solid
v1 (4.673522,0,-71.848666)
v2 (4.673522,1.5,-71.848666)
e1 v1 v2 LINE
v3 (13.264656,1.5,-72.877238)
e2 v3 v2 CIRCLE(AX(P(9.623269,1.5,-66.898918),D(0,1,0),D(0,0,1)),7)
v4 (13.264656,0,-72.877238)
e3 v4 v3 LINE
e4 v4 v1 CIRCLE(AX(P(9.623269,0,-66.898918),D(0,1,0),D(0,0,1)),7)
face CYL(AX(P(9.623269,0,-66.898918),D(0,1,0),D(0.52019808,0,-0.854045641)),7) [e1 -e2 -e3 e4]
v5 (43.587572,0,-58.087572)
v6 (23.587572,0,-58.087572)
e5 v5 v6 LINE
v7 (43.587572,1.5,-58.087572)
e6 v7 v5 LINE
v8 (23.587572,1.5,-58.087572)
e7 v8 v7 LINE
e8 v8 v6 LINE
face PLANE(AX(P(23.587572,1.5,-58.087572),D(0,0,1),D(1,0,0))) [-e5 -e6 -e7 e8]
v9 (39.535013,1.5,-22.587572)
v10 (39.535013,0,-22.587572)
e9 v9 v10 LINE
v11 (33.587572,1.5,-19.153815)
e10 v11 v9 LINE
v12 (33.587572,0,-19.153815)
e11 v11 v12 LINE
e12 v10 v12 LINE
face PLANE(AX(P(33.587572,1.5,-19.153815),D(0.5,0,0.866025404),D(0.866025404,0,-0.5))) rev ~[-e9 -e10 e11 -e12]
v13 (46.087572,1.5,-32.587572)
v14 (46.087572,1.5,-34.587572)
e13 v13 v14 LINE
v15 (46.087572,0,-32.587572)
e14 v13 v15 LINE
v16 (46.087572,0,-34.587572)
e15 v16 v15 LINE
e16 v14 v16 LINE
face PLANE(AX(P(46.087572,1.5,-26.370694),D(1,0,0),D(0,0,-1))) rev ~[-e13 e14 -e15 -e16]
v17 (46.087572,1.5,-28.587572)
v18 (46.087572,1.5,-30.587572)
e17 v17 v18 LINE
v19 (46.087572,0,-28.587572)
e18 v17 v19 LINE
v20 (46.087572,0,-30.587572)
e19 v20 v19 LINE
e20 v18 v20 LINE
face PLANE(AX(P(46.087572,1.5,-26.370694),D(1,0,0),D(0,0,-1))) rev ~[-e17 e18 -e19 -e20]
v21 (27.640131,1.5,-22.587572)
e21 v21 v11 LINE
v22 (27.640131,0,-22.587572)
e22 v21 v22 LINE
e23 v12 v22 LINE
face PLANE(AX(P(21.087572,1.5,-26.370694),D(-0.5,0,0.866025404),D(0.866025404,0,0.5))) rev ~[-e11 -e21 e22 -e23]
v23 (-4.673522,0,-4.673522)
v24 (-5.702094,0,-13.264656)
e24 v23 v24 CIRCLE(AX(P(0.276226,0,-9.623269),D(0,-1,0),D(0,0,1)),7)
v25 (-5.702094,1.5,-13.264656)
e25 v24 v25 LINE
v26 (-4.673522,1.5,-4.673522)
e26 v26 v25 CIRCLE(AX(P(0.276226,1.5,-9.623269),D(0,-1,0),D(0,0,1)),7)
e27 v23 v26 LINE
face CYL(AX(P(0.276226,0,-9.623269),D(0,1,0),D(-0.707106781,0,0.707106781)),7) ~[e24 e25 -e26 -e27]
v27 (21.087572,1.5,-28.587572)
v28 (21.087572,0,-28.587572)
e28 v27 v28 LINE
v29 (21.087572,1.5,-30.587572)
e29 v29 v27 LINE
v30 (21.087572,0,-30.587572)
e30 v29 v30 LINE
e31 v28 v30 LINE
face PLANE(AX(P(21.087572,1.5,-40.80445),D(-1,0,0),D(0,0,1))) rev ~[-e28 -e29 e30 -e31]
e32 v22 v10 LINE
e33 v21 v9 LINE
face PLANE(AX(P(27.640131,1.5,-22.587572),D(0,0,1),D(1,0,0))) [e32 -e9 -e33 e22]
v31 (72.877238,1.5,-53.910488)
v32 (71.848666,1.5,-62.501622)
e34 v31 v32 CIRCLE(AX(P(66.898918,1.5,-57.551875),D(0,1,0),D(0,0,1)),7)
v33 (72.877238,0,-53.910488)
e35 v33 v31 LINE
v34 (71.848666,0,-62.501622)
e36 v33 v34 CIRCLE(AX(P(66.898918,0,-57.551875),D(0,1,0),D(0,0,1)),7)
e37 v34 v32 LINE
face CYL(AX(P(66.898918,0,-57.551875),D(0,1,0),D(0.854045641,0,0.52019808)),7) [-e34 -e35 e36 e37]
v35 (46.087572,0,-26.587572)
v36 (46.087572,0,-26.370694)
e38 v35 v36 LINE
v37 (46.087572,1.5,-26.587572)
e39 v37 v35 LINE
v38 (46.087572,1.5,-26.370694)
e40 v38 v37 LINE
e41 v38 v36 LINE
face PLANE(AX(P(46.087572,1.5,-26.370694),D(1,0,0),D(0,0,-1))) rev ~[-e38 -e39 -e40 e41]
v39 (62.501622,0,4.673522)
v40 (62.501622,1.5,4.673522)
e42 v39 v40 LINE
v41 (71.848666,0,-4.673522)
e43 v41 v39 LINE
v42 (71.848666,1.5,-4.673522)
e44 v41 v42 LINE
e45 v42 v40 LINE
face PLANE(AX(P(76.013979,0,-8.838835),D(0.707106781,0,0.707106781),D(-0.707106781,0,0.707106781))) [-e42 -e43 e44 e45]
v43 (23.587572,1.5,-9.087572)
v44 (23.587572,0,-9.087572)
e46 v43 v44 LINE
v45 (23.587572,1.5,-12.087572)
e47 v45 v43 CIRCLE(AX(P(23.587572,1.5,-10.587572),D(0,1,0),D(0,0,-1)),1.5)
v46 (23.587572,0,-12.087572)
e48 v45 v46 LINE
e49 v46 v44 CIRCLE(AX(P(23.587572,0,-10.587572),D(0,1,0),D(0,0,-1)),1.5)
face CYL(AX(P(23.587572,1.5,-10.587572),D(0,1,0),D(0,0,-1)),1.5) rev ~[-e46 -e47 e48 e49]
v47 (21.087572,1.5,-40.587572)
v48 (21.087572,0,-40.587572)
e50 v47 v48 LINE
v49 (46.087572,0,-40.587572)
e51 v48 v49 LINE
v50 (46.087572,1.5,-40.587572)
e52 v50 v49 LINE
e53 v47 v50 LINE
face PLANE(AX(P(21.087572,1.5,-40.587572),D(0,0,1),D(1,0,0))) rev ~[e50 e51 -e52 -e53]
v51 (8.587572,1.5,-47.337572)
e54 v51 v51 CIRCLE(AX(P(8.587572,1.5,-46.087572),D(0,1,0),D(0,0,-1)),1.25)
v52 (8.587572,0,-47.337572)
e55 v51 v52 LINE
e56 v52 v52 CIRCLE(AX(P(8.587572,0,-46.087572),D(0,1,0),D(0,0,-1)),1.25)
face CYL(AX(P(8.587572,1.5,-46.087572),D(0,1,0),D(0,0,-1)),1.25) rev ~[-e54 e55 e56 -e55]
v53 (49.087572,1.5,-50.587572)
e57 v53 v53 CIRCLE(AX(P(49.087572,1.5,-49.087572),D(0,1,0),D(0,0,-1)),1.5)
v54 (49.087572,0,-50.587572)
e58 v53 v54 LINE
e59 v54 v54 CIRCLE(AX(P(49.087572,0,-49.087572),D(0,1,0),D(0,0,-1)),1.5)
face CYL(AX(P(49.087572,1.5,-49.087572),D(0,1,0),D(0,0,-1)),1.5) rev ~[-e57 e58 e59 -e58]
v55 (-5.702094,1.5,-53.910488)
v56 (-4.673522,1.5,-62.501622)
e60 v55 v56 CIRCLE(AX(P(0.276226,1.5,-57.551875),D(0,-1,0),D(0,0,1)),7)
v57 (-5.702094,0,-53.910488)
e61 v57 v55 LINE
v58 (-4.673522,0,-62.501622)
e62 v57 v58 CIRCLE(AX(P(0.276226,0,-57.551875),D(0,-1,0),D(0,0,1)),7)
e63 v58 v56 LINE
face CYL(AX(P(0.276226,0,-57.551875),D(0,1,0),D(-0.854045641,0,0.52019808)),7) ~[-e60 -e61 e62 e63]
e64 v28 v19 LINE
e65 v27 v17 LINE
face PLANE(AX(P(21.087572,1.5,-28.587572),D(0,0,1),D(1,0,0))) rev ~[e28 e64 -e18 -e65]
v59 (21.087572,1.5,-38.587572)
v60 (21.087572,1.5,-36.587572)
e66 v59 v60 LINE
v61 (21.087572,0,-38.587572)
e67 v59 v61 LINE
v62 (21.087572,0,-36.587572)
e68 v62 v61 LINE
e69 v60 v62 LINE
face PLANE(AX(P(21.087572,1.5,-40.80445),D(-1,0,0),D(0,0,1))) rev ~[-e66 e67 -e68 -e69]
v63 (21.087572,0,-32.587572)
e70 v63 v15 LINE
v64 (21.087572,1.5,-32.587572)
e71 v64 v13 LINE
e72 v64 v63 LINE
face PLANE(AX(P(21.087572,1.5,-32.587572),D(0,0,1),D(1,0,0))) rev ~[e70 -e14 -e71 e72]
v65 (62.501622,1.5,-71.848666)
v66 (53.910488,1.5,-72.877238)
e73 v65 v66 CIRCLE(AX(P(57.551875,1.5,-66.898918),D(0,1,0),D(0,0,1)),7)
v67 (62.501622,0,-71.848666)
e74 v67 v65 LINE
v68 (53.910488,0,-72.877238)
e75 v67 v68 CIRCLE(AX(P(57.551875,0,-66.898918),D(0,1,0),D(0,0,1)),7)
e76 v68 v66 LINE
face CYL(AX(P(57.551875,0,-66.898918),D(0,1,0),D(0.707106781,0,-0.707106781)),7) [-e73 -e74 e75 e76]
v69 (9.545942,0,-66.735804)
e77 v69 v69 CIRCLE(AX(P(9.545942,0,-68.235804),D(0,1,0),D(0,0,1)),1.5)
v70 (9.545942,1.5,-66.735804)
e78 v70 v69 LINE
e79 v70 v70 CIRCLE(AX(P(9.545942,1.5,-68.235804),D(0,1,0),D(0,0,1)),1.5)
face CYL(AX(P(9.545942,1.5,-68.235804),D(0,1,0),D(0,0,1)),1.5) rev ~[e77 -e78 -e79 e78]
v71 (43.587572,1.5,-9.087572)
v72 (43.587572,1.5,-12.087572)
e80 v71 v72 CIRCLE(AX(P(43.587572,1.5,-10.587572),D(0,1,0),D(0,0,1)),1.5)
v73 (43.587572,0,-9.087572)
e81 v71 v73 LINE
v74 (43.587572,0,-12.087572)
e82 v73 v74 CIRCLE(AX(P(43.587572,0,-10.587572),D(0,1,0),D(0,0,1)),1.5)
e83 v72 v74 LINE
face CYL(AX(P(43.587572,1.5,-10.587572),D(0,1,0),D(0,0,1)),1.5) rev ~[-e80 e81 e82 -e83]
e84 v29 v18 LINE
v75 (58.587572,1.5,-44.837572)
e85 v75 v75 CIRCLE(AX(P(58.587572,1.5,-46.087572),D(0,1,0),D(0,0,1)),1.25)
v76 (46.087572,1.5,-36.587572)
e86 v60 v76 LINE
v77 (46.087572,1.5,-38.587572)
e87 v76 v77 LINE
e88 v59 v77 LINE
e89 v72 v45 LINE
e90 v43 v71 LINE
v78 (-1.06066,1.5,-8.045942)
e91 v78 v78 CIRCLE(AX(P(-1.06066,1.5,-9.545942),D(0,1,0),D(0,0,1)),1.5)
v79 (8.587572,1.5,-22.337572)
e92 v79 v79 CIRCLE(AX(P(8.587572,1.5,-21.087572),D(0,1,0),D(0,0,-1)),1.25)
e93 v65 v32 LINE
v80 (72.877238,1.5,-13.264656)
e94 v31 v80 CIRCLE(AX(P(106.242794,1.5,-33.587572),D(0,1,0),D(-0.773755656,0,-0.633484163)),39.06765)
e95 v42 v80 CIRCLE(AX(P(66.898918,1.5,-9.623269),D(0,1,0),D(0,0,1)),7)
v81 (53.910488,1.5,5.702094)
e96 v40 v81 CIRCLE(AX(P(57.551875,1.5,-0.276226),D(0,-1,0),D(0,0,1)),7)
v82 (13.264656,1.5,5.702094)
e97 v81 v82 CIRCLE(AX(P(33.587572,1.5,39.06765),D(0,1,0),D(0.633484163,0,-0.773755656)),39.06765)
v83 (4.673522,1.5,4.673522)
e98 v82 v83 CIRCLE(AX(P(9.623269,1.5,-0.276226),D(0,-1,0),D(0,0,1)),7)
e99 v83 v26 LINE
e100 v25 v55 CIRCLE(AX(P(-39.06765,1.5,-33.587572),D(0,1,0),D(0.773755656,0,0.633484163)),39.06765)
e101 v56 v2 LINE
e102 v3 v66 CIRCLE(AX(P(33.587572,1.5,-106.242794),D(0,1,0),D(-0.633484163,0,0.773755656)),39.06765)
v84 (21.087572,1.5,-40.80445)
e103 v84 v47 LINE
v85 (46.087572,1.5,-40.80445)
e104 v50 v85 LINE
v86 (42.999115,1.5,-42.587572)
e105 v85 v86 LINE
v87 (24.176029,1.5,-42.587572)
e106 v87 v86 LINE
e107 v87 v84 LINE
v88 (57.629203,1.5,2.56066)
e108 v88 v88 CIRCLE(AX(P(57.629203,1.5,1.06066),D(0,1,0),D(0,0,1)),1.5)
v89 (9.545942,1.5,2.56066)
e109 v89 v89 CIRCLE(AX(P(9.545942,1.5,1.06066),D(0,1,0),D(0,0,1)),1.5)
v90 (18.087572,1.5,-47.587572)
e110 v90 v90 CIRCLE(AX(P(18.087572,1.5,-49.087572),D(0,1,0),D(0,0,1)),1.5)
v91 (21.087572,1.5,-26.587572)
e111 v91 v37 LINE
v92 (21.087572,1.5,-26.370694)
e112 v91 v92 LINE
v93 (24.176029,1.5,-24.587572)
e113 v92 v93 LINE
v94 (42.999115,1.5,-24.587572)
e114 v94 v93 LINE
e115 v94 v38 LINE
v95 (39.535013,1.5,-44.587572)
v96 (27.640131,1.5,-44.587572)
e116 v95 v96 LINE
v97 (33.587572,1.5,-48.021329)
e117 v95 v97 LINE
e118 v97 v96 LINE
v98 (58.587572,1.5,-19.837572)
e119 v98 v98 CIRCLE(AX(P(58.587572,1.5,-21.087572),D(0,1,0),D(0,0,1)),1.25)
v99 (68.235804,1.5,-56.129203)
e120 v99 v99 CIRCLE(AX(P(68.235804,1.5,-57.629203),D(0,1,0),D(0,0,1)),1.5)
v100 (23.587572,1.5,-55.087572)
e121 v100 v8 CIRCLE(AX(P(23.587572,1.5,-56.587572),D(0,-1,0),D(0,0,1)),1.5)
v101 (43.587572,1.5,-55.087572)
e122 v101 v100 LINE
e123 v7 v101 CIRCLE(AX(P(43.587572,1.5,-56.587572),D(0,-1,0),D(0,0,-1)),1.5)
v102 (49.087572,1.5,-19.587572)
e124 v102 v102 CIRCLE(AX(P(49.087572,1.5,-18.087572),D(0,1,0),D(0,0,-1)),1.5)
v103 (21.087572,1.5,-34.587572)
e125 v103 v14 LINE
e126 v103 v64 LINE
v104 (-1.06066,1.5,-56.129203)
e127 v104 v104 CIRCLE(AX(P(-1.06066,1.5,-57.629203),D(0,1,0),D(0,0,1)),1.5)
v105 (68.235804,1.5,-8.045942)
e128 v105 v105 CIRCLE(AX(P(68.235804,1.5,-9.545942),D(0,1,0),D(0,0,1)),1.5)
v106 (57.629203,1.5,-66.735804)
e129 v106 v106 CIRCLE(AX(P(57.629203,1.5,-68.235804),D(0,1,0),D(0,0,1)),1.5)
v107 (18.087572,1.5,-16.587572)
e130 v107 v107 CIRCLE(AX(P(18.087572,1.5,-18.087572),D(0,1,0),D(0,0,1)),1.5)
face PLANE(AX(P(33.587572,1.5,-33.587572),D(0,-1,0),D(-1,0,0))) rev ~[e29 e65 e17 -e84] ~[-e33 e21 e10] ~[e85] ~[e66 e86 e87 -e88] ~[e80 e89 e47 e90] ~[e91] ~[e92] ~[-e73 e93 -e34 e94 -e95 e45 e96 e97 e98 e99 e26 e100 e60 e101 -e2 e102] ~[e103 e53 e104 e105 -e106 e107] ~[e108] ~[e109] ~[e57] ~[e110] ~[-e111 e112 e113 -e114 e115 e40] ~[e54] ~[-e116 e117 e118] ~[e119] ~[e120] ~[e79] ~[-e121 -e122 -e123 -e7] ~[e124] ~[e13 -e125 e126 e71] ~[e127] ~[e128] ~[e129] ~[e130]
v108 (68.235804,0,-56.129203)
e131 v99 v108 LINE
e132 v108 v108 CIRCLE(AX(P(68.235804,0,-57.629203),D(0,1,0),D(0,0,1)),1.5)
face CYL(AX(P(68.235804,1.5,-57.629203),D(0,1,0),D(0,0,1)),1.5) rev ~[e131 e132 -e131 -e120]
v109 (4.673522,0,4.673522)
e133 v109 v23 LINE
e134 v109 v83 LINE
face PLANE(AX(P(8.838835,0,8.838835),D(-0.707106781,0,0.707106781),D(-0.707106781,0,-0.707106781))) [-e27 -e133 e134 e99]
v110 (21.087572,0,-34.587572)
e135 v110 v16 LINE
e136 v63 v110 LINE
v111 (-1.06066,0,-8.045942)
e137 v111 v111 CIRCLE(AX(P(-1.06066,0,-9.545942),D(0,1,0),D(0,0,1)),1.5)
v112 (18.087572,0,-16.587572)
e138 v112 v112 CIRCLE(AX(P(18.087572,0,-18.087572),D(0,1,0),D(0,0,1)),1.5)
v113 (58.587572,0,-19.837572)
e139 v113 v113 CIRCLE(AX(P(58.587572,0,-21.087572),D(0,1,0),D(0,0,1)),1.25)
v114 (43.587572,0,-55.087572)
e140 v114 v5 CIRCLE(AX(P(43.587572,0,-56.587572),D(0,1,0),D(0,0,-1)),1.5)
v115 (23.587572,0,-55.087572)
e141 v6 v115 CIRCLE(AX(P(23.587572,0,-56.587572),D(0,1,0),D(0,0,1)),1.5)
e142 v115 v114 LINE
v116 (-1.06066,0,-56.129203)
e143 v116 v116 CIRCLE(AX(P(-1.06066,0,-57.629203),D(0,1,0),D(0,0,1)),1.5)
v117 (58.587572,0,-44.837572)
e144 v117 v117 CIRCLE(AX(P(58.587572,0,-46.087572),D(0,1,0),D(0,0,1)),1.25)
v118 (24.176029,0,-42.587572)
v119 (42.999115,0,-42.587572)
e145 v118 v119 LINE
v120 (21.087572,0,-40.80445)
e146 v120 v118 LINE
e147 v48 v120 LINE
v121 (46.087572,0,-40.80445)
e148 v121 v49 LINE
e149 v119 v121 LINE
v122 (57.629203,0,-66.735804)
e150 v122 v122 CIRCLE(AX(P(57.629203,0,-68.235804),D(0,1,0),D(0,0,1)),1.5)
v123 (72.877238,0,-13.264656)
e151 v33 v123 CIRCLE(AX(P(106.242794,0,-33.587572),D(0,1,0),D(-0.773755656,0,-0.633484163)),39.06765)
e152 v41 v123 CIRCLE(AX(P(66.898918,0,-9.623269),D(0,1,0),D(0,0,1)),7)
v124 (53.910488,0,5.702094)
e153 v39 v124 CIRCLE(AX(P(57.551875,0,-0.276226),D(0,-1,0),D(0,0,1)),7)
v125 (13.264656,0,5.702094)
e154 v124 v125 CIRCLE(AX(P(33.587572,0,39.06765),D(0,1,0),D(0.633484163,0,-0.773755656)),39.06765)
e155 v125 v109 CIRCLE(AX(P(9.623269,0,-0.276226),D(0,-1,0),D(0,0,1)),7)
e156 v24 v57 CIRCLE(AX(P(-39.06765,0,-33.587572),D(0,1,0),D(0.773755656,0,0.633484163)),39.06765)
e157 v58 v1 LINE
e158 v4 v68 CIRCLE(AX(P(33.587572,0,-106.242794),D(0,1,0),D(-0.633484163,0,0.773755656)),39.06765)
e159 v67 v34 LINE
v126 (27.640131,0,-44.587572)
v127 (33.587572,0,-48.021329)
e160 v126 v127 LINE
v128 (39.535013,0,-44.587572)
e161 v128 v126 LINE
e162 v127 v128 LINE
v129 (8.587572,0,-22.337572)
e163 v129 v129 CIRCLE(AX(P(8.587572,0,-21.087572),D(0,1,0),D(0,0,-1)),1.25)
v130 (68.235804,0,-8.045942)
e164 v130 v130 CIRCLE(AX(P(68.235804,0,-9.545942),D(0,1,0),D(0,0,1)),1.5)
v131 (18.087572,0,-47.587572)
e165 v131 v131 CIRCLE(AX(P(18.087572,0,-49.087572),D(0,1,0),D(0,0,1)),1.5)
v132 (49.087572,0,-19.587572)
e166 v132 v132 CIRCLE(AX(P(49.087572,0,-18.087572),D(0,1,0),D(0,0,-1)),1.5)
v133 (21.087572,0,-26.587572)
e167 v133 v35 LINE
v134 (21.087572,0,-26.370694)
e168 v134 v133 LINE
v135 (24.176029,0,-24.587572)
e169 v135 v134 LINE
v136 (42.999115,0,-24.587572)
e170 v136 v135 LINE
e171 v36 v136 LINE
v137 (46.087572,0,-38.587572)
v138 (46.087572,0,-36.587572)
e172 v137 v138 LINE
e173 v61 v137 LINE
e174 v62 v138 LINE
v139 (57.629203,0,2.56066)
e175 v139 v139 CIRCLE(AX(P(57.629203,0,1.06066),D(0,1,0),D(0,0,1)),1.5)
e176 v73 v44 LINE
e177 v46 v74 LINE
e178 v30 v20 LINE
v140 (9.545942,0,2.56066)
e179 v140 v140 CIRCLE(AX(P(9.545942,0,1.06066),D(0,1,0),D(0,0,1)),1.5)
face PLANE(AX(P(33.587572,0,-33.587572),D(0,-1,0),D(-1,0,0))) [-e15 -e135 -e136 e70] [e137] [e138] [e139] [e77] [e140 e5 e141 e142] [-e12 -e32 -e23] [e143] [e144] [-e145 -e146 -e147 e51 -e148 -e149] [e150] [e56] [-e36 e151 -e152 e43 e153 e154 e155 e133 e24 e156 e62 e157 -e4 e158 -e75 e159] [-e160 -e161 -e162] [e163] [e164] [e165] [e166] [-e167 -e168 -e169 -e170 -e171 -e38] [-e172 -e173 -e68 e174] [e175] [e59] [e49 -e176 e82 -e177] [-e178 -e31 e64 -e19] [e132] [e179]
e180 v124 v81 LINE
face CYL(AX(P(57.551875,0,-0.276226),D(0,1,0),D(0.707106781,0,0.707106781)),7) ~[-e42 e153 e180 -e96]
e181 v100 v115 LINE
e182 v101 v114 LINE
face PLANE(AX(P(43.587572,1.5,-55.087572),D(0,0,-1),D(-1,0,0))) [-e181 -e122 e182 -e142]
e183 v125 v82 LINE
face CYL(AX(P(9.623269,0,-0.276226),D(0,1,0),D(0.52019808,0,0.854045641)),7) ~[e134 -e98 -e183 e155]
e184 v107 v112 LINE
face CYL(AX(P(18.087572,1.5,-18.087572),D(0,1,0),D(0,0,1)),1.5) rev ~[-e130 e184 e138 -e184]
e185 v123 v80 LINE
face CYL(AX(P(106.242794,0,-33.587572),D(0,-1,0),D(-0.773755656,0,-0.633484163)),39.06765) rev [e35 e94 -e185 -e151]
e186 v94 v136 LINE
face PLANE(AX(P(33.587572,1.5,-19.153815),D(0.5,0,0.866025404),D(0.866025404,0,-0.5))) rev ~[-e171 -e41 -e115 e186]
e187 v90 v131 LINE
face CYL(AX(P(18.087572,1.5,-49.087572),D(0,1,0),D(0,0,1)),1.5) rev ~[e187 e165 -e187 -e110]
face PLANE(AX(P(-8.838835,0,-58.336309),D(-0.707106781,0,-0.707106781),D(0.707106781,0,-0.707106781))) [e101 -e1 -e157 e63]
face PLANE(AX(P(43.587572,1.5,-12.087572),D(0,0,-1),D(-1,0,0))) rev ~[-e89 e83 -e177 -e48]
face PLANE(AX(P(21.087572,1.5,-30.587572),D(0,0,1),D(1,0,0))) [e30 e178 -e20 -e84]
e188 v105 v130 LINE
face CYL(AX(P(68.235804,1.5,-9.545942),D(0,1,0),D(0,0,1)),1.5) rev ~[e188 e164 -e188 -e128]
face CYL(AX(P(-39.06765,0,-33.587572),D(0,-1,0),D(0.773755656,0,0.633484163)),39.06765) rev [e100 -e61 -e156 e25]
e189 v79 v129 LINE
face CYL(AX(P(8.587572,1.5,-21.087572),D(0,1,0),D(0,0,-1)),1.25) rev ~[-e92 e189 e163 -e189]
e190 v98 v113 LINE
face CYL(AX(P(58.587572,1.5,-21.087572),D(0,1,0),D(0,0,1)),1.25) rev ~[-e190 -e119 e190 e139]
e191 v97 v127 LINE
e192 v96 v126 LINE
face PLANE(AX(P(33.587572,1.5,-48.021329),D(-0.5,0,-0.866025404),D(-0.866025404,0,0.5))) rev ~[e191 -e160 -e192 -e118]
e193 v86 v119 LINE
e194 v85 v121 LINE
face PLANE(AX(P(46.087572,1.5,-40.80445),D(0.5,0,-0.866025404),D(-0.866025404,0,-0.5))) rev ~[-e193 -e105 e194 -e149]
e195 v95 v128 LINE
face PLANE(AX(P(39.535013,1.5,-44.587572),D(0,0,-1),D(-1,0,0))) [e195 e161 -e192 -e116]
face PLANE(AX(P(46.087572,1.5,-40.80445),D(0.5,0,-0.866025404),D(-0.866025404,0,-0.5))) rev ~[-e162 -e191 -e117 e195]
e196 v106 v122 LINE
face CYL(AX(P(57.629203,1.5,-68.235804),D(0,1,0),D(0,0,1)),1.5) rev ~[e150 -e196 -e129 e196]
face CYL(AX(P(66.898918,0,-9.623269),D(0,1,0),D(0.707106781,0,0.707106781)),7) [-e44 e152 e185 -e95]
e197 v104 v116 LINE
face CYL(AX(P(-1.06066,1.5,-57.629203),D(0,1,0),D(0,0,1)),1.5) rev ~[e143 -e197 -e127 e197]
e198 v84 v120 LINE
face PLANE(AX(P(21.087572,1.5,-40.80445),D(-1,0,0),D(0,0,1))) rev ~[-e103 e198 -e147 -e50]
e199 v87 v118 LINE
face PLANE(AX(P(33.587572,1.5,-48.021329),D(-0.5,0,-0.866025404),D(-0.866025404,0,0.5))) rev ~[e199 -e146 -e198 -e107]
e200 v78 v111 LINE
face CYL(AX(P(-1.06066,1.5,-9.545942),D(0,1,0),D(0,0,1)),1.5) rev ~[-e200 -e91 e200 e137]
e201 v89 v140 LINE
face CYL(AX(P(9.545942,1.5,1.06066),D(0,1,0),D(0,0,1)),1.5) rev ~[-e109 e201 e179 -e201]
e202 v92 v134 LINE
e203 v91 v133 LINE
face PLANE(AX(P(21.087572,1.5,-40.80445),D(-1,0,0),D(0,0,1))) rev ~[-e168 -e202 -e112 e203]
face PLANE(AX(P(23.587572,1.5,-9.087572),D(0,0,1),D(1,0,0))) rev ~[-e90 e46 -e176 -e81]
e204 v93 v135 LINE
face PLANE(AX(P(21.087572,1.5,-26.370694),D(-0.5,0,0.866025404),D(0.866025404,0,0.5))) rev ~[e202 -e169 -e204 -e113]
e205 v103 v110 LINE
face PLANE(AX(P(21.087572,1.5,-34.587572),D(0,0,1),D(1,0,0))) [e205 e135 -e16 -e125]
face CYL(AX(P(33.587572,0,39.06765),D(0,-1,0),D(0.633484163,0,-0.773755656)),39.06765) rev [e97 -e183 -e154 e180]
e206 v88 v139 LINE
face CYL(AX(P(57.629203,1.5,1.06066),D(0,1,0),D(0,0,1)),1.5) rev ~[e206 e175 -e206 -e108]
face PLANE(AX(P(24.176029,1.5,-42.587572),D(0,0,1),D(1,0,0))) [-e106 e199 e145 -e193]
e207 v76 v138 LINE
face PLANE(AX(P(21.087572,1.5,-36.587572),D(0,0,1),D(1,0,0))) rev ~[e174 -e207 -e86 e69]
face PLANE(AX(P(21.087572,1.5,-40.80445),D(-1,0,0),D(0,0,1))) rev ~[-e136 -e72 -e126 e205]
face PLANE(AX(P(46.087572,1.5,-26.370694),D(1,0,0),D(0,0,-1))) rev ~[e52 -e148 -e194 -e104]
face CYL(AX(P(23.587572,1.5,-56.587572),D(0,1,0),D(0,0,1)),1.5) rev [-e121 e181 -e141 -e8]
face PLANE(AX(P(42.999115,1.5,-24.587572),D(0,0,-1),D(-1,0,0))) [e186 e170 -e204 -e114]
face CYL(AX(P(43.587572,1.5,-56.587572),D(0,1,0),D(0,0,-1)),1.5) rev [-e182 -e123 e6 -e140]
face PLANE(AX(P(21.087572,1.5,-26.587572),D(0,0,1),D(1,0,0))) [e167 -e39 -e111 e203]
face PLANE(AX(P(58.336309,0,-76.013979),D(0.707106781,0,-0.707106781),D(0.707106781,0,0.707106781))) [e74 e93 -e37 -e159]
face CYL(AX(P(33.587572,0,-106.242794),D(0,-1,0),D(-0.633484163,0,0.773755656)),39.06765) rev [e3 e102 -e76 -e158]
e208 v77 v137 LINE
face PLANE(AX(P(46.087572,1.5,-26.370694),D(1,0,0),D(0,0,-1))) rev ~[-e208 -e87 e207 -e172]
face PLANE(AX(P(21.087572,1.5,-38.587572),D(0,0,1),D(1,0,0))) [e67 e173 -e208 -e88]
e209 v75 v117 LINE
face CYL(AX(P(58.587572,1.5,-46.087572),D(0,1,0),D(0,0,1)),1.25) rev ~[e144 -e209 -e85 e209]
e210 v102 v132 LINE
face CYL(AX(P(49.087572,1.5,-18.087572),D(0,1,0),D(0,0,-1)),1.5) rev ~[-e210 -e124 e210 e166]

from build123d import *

# Parameters (mm, degrees)
BOSS_EXTRUDE1_DEPTH = 1.5
SKETCH2_R           = 1.5
CUT_EXTRUDE1_DEPTH  = 108.510464607
FILLET1_R           = 7
SKETCH3_R           = 1.5
CUT_EXTRUDE2_DEPTH  = 105.519616835
SKETCH6_R           = 1.25
CUT_EXTRUDE3_DEPTH  = 105.519616835
SKETCH8_W           = 25
SKETCH8_H           = 2
BOSS_EXTRUDE2_DEPTH = 1.5


with BuildPart() as part:
    # Sketch1 → Boss-Extrude1 (new body)
    with BuildSketch(Plane(origin=(0, 0, 0), x_dir=(1, 0, 0), z_dir=(0, 1, 0))):
        with BuildLine():
            Line((76.013978978, 8.838834765), (58.336309448, -8.838834765))
            ThreePointArc((58.336309448, -8.838834765), (33.587572106, 0), (8.838834765, -8.838834765))
            Line((8.838834765, -8.838834765), (-8.838834765, 8.838834765))
            ThreePointArc((-8.838834765, 8.838834765), (0, 33.587572106), (-8.838834765, 58.336309448))
            Line((-8.838834765, 58.336309448), (8.838834765, 76.013978978))
            ThreePointArc((8.838834765, 76.013978978), (33.587572106, 67.175144213), (58.336309448, 76.013978978))
            Line((58.336309448, 76.013978978), (76.013978978, 58.336309448))
            ThreePointArc((76.013978978, 58.336309448), (67.175144213, 33.587572106), (76.013978978, 8.838834765))
        make_face()
    extrude(amount=BOSS_EXTRUDE1_DEPTH)

    # Sketch2 → Cut-Extrude1 (cut, through all)
    with BuildSketch(Plane(origin=(0, 1.5, 0), x_dir=(1, 0, 0), z_dir=(0, 1, 0))):
        with Locations(Location((57.629202667, 68.235804385, 0), (0, 0, 270))):
            Circle(SKETCH2_R)
        with Locations(Location((68.235804385, 57.629202667, 0), (0, 0, 270))):
            Circle(SKETCH2_R)
        with Locations(Location((68.235804385, 9.545941546, 0), (0, 0, 270))):
            Circle(SKETCH2_R)
        with Locations(Location((57.629202667, -1.060660172, 0), (0, 0, 270))):
            Circle(SKETCH2_R)
        with Locations(Location((9.545941546, -1.060660172, 0), (0, 0, 270))):
            Circle(SKETCH2_R)
        with Locations(Location((-1.060660172, 9.545941546, 0), (0, 0, 270))):
            Circle(SKETCH2_R)
        with Locations(Location((-1.060660172, 57.629202667, 0), (0, 0, 270))):
            Circle(SKETCH2_R)
        with Locations(Location((9.545941546, 68.235804385, 0), (0, 0, 270))):
            Circle(SKETCH2_R)
    extrude(amount=-CUT_EXTRUDE1_DEPTH, mode=Mode.SUBTRACT)

    # Fillet1
    fillet1_edges = [part.edges().sort_by_distance(p)[0] for p in [
        (76.013978978, 0.75, -8.838834765),
        (58.336309448, 0.75, 8.838834765),
        (8.838834765, 0.75, 8.838834765),
        (-8.838834765, 0.75, -8.838834765),
        (-8.838834765, 0.75, -58.336309448),
        (8.838834765, 0.75, -76.013978978),
        (58.336309448, 0.75, -76.013978978),
        (76.013978978, 0.75, -58.336309448),
    ]]
    fillet(fillet1_edges, radius=FILLET1_R)

    # Sketch3 → Cut-Extrude2 (cut, through all)
    with BuildSketch(Plane(origin=(0, 1.5, 0), x_dir=(1, 0, 0), z_dir=(0, 1, 0))):
        with Locations(Location((18.087572106, 49.087572106, 0), (0, 0, 270))):
            Circle(SKETCH3_R)
        with Locations(Location((18.087572106, 18.087572106, 0), (0, 0, 270))):
            Circle(SKETCH3_R)
        with Locations(Location((49.087572106, 18.087572106, 0), (0, 0, 90))):
            Circle(SKETCH3_R)
        with Locations(Location((49.087572106, 49.087572106, 0), (0, 0, 90))):
            Circle(SKETCH3_R)
    extrude(amount=-CUT_EXTRUDE2_DEPTH, mode=Mode.SUBTRACT)

    # Sketch6 → Cut-Extrude3 (cut, through all)
    with BuildSketch(Plane(origin=(0, 1.5, 0), x_dir=(1, 0, 0), z_dir=(0, 1, 0))):
        with Locations(Location((58.587572106, 46.087572106, 0), (0, 0, 270))):
            Circle(SKETCH6_R)
        with Locations(Location((58.587572106, 21.087572106, 0), (0, 0, 270))):
            Circle(SKETCH6_R)
        with Locations(Location((8.587572106, 21.087572106, 0), (0, 0, 90))):
            Circle(SKETCH6_R)
        with Locations(Location((8.587572106, 46.087572106, 0), (0, 0, 90))):
            Circle(SKETCH6_R)
        with BuildLine():
            Line((23.587572106, 58.087572106), (43.587572106, 58.087572106))
            ThreePointArc((43.587572106, 58.087572106), (45.087572106, 56.587572106), (43.587572106, 55.087572106))
            Line((43.587572106, 55.087572106), (23.587572106, 55.087572106))
            ThreePointArc((23.587572106, 55.087572106), (22.087572106, 56.587572106), (23.587572106, 58.087572106))
        make_face()
        with BuildLine():
            Line((23.587572106, 9.087572106), (43.587572106, 9.087572106))
            ThreePointArc((43.587572106, 9.087572106), (45.087572106, 10.587572106), (43.587572106, 12.087572106))
            Line((43.587572106, 12.087572106), (23.587572106, 12.087572106))
            ThreePointArc((23.587572106, 12.087572106), (22.087572106, 10.587572106), (23.587572106, 9.087572106))
        make_face()
        Polygon((33.587572106, 48.021328836), (21.087572106, 40.804450471), (21.087572106, 26.370693741), (33.587572106, 19.153815377), (46.087572106, 26.370693741), (46.087572106, 40.804450471), align=None)
    extrude(amount=-CUT_EXTRUDE3_DEPTH, mode=Mode.SUBTRACT)

    # Sketch8 → Boss-Extrude2 (add, through all)
    with BuildSketch(Plane(origin=(0, 1.5, 0), x_dir=(1, 0, 0), z_dir=(0, 1, 0))):
        with Locations((33.587572106, 35.587572106)):
            Rectangle(SKETCH8_W, SKETCH8_H)
        with Locations((33.587572106, 31.587572106)):
            Rectangle(SKETCH8_W, SKETCH8_H)
        with Locations((33.587572106, 39.587572106)):
            Rectangle(SKETCH8_W, SKETCH8_H)
        Polygon((24.176029374, 42.587572106), (42.999114838, 42.587572106), (39.535013223, 44.587572106), (27.64013099, 44.587572106), align=None)
        with Locations((33.587572106, 27.587572106)):
            Rectangle(SKETCH8_W, SKETCH8_H)
        Polygon((39.535013223, 22.587572106), (42.999114838, 24.587572106), (24.176029374, 24.587572106), (27.64013099, 22.587572106), align=None)
    extrude(amount=-BOSS_EXTRUDE2_DEPTH)


solid = part.part
